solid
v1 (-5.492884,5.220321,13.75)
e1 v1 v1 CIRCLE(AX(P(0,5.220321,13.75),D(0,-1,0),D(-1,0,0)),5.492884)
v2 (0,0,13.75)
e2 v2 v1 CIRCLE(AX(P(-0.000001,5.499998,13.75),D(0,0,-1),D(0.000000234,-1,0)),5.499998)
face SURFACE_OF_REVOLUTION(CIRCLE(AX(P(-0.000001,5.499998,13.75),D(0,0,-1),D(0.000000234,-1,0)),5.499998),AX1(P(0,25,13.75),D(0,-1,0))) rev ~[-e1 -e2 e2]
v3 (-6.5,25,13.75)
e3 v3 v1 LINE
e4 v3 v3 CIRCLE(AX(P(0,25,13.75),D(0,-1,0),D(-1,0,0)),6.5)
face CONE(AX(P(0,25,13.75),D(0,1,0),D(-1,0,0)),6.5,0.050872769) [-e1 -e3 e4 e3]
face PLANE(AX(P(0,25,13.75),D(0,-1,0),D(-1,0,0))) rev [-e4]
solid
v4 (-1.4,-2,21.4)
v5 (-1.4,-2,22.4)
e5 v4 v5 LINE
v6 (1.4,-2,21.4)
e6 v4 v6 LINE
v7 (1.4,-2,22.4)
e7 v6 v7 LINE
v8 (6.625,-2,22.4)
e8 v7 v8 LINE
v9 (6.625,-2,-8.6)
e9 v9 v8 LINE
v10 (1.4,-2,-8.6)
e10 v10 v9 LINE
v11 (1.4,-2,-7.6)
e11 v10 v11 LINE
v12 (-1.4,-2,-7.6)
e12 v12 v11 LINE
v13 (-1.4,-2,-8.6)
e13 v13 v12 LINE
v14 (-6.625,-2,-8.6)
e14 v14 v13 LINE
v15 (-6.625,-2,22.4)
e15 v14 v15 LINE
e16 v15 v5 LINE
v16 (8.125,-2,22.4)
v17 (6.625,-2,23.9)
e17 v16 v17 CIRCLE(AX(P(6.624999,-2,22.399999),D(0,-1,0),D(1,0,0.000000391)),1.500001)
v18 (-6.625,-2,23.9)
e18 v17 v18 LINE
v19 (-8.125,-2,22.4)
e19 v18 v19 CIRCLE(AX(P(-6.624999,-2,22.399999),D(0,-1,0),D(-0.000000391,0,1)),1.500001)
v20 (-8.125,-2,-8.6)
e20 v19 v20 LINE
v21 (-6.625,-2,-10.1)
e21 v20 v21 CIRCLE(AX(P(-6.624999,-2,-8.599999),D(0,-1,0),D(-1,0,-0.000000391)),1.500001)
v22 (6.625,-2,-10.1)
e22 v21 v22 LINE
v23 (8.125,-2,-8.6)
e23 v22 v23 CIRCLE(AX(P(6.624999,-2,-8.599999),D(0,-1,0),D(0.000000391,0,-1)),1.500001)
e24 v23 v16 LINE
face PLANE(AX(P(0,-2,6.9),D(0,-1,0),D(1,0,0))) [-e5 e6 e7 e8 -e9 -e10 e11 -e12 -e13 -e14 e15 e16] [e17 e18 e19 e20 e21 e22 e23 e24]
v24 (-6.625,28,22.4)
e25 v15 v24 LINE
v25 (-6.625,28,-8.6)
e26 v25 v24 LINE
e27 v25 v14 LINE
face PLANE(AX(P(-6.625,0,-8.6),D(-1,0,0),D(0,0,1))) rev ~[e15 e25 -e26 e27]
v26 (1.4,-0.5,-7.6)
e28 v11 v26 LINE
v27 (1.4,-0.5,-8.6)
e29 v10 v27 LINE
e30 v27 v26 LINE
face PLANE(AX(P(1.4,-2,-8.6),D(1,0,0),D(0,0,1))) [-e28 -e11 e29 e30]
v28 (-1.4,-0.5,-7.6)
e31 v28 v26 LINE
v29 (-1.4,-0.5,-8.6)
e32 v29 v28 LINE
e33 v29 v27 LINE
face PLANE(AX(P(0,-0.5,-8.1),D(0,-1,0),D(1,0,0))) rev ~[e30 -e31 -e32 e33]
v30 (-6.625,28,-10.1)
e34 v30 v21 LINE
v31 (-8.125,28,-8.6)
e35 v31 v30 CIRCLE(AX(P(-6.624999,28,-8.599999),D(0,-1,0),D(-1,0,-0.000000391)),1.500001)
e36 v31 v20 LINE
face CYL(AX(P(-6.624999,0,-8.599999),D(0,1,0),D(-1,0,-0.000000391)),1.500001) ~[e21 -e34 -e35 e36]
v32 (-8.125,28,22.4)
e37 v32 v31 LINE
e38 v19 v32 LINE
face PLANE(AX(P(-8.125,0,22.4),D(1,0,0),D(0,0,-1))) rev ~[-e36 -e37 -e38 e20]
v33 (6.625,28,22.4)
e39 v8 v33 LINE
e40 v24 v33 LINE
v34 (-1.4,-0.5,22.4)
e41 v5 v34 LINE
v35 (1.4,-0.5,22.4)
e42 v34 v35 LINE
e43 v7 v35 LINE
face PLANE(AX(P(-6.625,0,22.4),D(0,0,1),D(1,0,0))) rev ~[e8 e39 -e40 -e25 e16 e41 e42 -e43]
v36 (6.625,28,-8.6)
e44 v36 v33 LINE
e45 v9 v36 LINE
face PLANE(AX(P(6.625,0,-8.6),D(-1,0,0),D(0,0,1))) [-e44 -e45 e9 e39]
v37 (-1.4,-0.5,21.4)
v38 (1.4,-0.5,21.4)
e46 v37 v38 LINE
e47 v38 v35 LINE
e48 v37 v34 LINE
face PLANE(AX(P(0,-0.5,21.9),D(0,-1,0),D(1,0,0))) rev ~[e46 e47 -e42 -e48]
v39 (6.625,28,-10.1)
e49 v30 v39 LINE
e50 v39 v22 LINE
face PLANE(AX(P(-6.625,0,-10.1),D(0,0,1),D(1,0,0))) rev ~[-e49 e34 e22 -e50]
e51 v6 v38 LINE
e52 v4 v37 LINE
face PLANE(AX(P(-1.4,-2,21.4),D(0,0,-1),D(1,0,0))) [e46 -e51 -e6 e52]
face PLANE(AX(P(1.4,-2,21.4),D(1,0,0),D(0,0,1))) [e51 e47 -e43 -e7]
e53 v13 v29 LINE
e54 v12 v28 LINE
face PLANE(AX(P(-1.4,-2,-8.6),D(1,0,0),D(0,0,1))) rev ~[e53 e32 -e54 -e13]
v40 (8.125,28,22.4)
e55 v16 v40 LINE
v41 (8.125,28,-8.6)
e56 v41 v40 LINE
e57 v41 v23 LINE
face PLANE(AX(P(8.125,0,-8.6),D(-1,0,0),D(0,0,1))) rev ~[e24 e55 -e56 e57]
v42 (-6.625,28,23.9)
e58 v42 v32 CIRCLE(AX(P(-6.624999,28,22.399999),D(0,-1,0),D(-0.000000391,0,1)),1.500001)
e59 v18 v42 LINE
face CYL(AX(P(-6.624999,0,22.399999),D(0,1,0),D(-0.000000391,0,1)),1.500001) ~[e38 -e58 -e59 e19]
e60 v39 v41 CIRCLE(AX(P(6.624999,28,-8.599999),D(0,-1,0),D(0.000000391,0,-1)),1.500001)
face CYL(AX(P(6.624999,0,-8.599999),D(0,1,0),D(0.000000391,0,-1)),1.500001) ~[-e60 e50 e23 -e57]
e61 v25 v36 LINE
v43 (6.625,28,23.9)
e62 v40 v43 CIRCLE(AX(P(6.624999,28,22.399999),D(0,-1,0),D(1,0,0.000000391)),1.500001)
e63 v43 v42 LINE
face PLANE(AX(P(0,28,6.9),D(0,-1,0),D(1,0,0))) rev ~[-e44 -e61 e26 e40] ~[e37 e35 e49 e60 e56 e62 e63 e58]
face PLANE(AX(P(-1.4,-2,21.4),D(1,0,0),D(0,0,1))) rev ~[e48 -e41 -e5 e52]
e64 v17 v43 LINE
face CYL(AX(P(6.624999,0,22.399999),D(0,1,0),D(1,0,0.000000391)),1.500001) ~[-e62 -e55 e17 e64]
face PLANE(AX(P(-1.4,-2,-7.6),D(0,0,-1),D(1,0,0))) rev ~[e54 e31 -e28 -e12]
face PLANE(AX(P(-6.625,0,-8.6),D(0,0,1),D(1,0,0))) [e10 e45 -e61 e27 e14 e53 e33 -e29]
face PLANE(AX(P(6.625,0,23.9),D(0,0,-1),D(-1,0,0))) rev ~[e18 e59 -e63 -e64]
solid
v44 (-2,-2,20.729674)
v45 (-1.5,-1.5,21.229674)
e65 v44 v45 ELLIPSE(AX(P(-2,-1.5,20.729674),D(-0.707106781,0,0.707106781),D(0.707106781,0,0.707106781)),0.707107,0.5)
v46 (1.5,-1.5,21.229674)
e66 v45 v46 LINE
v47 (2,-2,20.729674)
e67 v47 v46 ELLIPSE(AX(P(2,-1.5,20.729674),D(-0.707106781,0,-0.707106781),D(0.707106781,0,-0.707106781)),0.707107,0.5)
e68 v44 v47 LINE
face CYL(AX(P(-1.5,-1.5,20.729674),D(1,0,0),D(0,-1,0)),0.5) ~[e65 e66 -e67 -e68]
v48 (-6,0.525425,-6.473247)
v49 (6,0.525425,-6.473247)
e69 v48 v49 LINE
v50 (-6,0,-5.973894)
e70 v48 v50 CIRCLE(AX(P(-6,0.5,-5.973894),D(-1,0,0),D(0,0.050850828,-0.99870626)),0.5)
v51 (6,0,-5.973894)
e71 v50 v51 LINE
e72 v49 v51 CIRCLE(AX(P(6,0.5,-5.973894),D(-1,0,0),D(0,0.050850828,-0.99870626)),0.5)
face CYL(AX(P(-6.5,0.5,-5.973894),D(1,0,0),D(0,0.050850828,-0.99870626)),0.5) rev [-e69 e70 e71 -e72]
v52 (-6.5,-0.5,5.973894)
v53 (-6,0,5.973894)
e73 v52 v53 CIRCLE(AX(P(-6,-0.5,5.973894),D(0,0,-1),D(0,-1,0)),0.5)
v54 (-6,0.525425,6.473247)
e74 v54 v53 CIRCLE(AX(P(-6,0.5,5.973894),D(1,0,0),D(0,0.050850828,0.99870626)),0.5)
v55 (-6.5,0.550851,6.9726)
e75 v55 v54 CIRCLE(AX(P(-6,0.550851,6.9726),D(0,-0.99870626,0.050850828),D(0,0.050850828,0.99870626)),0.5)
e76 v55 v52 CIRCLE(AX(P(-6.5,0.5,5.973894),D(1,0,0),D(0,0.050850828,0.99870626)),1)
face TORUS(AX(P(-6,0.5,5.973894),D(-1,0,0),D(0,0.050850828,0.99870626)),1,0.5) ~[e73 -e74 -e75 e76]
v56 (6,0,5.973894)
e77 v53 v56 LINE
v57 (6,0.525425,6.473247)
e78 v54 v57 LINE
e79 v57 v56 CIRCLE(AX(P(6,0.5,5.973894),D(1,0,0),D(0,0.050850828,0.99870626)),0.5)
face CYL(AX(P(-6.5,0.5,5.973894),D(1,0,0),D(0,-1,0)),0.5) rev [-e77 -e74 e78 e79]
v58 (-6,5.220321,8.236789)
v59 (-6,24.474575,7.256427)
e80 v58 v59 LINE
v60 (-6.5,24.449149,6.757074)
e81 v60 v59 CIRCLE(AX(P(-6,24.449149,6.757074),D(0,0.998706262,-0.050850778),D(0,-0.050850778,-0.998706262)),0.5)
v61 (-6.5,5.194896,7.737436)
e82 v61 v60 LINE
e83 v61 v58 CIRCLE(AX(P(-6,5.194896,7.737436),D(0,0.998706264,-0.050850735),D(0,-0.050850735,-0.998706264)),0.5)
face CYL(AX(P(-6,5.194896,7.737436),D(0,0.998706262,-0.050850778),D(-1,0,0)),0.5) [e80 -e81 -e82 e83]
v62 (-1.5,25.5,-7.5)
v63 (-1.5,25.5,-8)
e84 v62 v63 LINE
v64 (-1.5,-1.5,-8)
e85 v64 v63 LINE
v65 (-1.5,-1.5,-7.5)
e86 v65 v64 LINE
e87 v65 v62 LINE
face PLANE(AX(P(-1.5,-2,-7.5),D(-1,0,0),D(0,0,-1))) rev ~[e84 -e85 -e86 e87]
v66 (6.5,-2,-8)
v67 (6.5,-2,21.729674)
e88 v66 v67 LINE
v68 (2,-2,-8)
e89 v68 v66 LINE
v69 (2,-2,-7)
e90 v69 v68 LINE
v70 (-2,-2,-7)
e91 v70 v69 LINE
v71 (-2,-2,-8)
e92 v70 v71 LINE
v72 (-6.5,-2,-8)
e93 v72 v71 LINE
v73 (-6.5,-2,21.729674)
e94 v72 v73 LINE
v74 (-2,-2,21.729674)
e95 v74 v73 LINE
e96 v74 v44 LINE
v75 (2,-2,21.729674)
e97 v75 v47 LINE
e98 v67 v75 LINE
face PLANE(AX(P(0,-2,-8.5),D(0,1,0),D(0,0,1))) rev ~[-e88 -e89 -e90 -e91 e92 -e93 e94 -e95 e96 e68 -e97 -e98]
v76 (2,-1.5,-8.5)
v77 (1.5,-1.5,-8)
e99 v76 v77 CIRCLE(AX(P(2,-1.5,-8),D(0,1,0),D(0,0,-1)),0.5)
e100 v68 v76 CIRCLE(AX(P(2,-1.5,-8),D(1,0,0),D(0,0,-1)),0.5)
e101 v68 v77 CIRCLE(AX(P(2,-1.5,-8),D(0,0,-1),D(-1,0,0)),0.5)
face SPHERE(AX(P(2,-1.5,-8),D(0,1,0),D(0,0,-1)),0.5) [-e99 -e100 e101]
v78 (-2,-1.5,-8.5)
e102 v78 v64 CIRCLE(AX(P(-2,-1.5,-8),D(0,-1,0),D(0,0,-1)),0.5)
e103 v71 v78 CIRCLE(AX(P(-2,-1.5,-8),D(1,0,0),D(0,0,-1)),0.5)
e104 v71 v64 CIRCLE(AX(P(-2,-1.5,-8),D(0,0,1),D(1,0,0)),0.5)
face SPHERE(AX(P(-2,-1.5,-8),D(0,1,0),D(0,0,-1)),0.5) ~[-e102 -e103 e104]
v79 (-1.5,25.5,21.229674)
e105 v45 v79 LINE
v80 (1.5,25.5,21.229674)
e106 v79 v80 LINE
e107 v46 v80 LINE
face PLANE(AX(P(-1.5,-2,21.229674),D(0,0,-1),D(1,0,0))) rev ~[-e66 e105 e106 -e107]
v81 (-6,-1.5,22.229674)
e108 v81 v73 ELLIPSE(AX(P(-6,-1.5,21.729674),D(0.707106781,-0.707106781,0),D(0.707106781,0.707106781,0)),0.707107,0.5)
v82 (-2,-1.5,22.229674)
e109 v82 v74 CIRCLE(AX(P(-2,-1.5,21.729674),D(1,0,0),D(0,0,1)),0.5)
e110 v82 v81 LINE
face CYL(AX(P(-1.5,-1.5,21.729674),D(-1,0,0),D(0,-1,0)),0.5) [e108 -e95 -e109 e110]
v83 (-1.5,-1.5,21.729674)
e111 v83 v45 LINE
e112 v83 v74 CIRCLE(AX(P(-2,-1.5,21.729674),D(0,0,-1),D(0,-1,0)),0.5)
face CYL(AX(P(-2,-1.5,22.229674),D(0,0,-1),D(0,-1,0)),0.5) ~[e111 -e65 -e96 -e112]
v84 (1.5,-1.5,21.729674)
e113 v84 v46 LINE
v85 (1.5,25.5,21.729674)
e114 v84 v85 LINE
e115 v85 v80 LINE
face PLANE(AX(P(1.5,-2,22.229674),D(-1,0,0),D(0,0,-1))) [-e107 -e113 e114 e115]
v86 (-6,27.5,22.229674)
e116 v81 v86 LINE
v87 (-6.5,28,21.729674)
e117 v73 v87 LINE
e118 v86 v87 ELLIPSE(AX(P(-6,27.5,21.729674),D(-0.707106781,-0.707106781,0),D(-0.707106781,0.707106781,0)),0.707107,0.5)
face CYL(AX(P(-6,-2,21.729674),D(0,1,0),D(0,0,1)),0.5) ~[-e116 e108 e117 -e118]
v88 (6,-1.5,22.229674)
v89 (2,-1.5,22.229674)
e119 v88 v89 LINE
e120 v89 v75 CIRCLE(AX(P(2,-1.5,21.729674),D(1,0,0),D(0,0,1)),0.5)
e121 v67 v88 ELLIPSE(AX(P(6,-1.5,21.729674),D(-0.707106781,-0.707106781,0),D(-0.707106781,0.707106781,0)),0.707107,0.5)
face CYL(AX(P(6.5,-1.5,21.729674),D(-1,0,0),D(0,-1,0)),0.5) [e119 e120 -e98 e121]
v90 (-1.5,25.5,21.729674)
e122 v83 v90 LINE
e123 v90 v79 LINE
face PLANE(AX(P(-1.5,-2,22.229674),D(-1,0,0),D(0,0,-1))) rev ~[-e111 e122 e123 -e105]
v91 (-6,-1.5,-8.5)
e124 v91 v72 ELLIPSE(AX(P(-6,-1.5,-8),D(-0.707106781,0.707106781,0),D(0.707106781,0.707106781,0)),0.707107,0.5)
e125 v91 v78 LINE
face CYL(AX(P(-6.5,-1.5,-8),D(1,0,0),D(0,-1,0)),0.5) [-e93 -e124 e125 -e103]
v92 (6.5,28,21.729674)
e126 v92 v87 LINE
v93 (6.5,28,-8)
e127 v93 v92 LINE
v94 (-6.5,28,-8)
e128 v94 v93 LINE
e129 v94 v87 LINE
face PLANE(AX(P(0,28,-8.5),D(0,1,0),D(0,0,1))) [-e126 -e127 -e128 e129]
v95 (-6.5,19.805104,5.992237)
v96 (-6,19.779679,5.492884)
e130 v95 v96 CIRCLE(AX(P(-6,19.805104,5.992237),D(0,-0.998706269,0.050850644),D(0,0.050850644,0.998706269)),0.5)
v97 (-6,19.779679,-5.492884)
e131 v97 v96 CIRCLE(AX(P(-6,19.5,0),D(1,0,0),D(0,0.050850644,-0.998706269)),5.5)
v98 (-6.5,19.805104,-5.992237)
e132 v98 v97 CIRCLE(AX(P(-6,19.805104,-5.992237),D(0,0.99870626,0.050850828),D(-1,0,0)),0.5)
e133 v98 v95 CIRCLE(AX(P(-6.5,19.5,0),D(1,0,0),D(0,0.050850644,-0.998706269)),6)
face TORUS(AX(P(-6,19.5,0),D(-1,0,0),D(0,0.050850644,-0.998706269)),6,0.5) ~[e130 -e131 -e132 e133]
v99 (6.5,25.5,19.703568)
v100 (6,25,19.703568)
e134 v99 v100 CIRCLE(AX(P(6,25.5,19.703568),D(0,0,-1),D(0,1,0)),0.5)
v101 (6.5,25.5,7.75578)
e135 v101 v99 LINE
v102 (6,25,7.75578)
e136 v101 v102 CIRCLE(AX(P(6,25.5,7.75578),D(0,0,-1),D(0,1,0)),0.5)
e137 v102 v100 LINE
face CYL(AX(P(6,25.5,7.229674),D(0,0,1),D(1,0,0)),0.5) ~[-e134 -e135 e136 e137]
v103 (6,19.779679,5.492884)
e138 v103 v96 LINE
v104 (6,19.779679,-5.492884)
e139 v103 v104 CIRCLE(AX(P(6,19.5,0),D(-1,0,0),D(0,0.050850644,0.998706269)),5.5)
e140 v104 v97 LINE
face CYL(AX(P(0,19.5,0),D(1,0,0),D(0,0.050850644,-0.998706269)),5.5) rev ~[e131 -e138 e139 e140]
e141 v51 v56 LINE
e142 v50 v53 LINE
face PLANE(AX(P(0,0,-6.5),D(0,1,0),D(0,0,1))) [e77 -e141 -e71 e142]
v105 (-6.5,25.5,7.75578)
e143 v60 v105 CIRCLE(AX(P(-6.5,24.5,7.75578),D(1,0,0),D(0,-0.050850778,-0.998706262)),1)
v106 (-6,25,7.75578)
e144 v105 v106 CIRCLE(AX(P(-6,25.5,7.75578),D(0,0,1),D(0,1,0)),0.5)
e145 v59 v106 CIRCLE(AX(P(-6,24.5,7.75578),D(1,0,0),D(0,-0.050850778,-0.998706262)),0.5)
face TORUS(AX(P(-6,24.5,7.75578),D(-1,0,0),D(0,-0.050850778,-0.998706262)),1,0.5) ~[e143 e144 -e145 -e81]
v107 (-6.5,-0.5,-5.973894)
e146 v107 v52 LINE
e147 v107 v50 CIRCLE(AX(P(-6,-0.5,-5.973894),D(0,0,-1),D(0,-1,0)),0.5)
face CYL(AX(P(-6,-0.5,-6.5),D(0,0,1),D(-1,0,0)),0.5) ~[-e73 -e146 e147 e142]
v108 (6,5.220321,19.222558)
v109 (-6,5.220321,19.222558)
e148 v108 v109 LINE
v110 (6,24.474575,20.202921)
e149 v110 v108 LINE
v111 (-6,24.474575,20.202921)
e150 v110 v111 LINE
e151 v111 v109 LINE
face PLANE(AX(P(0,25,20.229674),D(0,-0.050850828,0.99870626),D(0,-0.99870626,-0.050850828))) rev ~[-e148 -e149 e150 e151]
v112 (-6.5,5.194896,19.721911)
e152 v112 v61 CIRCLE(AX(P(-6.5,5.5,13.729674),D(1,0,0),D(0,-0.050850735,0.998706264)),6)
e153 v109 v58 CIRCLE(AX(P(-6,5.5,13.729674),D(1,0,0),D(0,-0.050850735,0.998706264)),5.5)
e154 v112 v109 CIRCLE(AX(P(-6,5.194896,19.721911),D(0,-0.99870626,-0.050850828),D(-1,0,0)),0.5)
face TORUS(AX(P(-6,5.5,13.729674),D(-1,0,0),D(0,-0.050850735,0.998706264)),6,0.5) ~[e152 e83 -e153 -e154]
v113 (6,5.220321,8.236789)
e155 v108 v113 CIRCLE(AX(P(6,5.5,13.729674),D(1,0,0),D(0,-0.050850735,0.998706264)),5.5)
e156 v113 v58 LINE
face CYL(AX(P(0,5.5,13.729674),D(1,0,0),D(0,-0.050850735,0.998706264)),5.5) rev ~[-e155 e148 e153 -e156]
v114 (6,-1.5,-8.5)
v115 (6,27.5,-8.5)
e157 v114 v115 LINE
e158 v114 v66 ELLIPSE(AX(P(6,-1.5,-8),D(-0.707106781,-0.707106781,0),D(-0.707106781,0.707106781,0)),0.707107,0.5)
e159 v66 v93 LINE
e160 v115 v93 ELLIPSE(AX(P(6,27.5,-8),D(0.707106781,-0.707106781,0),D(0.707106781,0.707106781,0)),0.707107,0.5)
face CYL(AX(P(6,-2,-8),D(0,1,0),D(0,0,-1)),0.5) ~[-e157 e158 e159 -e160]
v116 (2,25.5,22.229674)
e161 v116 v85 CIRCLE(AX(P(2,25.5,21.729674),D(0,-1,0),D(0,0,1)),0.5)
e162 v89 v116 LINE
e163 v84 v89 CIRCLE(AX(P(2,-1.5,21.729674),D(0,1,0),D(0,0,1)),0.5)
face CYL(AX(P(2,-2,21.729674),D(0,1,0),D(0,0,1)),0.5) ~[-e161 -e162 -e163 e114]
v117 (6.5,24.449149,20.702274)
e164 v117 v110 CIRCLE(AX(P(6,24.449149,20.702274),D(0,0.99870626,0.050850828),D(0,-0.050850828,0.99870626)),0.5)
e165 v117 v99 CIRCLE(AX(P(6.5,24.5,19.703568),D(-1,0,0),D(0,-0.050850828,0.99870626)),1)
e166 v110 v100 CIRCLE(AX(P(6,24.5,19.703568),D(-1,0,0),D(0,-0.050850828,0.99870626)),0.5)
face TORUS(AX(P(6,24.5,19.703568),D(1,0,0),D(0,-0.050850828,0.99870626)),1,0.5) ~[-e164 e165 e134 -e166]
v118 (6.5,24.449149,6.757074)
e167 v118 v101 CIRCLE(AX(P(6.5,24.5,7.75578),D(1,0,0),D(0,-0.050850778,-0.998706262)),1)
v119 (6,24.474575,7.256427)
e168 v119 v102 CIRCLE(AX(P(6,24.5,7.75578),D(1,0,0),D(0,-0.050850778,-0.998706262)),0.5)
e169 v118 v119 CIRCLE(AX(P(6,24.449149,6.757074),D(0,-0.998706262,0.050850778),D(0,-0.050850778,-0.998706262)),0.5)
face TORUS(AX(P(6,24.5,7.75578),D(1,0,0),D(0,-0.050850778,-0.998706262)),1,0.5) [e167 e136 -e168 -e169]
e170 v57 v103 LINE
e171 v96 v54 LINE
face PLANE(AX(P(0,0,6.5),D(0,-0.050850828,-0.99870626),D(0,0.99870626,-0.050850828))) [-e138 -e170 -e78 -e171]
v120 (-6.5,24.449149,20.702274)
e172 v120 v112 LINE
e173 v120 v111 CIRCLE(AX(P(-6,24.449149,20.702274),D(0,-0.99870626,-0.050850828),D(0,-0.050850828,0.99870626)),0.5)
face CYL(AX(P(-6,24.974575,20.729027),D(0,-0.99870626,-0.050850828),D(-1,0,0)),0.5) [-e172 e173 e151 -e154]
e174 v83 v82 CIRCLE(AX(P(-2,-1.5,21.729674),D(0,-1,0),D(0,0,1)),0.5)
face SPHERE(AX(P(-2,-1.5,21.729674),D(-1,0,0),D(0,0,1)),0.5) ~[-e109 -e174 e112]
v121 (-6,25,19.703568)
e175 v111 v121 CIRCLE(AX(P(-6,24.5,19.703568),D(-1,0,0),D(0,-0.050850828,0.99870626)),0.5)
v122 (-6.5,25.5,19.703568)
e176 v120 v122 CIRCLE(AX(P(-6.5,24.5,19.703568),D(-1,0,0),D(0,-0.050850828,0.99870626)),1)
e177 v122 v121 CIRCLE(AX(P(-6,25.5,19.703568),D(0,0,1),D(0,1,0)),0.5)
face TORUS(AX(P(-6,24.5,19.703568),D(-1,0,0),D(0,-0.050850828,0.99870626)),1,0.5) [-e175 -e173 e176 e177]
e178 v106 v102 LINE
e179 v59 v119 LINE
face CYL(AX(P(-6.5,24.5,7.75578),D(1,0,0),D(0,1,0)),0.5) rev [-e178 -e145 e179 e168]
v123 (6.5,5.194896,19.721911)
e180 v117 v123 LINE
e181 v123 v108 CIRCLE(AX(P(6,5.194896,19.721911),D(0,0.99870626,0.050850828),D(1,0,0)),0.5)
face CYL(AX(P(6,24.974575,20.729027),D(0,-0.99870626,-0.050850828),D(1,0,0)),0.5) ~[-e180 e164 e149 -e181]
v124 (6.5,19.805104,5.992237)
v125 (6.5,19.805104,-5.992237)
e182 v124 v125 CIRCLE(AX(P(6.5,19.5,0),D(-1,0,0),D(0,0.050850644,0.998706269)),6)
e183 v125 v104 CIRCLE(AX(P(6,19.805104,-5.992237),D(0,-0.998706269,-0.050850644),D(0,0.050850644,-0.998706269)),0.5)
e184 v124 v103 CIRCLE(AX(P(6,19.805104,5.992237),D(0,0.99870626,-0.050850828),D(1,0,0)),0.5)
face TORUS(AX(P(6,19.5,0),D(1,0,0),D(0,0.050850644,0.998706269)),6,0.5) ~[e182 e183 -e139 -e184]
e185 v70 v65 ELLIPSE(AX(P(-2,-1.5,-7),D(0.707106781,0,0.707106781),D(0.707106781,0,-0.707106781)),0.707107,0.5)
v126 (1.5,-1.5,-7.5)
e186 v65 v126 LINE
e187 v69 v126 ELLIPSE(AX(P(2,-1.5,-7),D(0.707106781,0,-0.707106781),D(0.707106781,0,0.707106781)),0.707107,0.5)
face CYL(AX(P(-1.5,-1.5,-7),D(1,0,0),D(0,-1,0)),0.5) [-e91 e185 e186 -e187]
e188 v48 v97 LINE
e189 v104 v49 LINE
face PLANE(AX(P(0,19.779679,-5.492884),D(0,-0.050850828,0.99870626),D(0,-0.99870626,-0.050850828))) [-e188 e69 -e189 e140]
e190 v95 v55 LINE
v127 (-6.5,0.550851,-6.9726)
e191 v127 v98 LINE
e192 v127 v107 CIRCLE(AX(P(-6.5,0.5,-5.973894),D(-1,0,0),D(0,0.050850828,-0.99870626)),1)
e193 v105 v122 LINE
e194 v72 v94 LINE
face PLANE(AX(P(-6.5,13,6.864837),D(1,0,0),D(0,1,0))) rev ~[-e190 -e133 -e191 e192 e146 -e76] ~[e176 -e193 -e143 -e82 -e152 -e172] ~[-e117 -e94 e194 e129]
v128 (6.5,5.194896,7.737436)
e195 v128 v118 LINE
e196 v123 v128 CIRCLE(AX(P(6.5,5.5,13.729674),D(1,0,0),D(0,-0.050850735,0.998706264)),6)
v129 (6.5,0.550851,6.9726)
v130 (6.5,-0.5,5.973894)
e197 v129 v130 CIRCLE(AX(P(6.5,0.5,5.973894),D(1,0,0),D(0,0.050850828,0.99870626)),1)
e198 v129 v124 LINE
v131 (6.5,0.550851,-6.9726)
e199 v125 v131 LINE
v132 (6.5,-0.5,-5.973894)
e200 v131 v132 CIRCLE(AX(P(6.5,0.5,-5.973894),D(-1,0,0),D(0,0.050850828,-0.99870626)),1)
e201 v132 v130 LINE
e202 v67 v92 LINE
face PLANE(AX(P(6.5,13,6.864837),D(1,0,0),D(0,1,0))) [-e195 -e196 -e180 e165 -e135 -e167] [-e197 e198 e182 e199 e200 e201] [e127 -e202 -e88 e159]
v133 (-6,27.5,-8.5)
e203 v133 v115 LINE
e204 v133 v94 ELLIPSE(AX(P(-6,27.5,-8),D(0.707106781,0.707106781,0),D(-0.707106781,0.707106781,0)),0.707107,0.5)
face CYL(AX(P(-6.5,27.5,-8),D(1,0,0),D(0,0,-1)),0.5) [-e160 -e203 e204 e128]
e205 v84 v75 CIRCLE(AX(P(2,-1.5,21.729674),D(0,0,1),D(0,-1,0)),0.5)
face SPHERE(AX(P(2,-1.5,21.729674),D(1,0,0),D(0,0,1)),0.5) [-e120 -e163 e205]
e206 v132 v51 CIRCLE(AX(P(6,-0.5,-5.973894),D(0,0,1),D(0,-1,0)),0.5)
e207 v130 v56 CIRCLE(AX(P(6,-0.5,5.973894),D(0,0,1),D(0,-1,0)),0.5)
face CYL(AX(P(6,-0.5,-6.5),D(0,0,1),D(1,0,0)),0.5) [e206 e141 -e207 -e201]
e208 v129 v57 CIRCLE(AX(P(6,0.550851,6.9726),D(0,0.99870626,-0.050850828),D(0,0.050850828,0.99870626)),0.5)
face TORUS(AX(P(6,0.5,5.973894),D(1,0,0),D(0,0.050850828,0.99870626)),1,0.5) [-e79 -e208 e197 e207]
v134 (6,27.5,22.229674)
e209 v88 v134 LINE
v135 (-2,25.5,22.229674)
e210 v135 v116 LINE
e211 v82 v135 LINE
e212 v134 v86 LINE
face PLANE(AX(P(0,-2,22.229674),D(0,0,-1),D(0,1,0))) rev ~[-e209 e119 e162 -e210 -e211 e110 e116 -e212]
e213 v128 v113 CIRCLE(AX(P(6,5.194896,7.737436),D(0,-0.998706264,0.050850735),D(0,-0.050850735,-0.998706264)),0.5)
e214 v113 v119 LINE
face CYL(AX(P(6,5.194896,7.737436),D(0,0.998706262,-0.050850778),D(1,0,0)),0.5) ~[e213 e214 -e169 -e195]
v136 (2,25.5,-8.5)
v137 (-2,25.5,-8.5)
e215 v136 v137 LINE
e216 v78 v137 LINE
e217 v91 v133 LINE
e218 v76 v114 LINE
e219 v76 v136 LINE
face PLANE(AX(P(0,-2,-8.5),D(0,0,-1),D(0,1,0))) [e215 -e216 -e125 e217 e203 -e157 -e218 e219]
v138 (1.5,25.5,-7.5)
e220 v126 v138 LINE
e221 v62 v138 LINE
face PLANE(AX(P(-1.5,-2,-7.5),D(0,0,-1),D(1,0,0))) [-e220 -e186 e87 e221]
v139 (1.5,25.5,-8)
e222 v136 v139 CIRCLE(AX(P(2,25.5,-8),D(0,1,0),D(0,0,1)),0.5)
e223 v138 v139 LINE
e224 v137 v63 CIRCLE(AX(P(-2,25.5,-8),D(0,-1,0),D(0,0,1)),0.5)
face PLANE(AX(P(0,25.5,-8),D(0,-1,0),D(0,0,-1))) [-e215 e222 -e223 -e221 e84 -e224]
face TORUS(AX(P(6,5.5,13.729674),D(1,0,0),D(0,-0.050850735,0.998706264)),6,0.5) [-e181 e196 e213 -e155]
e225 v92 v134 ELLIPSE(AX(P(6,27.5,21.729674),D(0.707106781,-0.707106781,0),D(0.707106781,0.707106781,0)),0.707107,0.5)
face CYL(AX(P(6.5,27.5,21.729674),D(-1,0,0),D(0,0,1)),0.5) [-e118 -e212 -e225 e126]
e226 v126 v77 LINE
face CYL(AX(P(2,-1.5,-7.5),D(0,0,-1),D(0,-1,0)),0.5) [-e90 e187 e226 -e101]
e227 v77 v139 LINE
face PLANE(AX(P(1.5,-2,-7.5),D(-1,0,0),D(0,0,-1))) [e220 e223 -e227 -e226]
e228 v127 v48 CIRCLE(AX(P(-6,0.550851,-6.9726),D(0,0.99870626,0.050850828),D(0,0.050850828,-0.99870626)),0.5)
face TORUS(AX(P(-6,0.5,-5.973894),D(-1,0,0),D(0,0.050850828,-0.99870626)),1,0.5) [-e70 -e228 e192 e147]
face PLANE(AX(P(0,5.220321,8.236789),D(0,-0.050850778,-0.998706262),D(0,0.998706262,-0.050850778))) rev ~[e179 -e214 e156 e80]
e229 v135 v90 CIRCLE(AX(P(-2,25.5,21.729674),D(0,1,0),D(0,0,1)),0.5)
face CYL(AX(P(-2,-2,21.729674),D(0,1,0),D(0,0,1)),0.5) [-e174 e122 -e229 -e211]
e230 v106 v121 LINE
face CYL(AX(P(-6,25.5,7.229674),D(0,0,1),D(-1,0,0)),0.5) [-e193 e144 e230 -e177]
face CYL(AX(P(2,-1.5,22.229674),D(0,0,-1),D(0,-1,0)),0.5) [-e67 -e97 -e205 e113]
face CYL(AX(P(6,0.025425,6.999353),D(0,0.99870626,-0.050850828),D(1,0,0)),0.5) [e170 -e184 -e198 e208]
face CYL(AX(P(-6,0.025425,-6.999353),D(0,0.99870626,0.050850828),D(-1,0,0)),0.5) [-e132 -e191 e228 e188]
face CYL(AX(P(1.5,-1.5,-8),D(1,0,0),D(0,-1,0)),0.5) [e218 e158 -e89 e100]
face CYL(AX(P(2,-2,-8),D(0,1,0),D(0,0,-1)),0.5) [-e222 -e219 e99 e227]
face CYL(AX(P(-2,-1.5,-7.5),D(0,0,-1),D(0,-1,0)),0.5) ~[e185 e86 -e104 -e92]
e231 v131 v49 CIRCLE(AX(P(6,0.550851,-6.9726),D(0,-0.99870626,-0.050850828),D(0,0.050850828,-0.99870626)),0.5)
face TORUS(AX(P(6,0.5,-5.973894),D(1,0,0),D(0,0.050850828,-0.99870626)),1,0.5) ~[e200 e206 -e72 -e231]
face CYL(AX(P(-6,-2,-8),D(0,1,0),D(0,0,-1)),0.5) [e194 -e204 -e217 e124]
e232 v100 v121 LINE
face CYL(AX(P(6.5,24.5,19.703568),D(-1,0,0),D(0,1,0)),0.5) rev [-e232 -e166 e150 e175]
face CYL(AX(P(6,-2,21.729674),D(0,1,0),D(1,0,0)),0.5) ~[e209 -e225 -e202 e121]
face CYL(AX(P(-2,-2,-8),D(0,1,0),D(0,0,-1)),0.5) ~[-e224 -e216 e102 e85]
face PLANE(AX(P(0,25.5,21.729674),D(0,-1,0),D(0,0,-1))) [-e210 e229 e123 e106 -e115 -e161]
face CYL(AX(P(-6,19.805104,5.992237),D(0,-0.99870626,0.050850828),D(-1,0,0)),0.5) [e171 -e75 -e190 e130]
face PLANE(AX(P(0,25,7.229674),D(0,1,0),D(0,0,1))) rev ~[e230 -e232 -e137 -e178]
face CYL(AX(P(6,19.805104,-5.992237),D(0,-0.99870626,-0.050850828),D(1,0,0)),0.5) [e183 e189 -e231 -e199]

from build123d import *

# Parameters (mm, degrees)
SKETCH001_W             = 30
SKETCH001_H             = 30.729674
PAD_DEPTH               = 6.5
SKETCH002_W             = 1
SKETCH002_H             = 3
POCKET_DEPTH            = 27.5
FILLET_R                = 0.5
BODY002_PLACEMENT_ANGLE = 180
SKETCH003_W             = 13.25
SKETCH003_H             = 31
PAD001_DEPTH            = 28
PAD001_DEPTH_BACK       = 2
SKETCH004_W             = 2.8
SKETCH004_H             = 1
PAD002_DEPTH            = 1.5


with BuildPart() as innerbody:
    # Sketch001 → Pad (new body, symmetric)
    with BuildSketch(Plane.YZ):
        with Locations((13, 6.864837)):
            Rectangle(SKETCH001_W, SKETCH001_H)
        with BuildLine():
            Line((0, -6.5), (0, 6.5))
            Line((0, 6.5), (19.779679, 5.492884))
            ThreePointArc((19.779679, -5.492884), (25, 0), (19.779679, 5.492884))
            Line((19.779679, -5.492884), (0, -6.5))
        make_face(mode=Mode.SUBTRACT)
        with BuildLine():
            Line((25, 7.229674), (25, 20.229674))
            Line((25, 20.229674), (5.220321, 19.222558))
            ThreePointArc((5.220321, 19.222558), (0, 13.729674), (5.220321, 8.236789))
            Line((5.220321, 8.236789), (25, 7.229674))
        make_face(mode=Mode.SUBTRACT)
    extrude(amount=PAD_DEPTH, both=True)

    # Sketch002 (on Face1 of Pad) → Pocket (cut)
    with BuildSketch(Plane(origin=(0, -2, 0), x_dir=(0, 0, -1), z_dir=(0, -1, 0))):
        with Locations((-21.729674, 0)):
            Rectangle(SKETCH002_W, SKETCH002_H)
        with Locations((8, 0)):
            Rectangle(SKETCH002_W, SKETCH002_H)
    extrude(amount=-POCKET_DEPTH, mode=Mode.SUBTRACT)

    # Fillet
    fillet_edges = [innerbody.edges().sort_by_distance(p)[0] for p in [
        (-6.5, 25, 0),
        (-6.5, 0, 0),
        (-6.5, 15.11016, 7.733232),
        (-6.5, 25, 13.729674),
        (-6.5, 13, -8.5),
        (-6.5, 13, 22.229674),
        (6.5, 13, -8.5),
        (1.5, 11.75, -8.5),
        (-1.5, 11.75, -8.5),
        (-4, -2, -8.5),
        (4, -2, -8.5),
        (0, 28, -8.5),
        (-4, -2, 22.229674),
        (4, -2, 22.229674),
        (6.5, 13, 22.229674),
        (1.5, 11.75, 22.229674),
        (-1.5, 11.75, 22.229674),
        (0, 28, 22.229674),
        (0, -2, -7.5),
        (0, -2, 21.229674),
        (-1.5, -2, -8),
        (1.5, -2, -8),
        (1.5, -2, 21.729674),
        (-1.5, -2, 21.729674),
        (6.5, 9.88984, 5.996442),
        (6.5, 0, 0),
        (6.5, 15.11016, 19.726116),
        (6.5, 25, 13.729674),
        (0, 0, 6.5),
        (0, 0, -6.5),
        (0, 25, 20.229674),
        (0, 25, 7.229674),
    ]]
    fillet(fillet_edges, radius=FILLET_R)


with BuildPart() as body002:
    # Sketch → Revolution (revolve)
    with BuildSketch(Plane.XY):
        with BuildLine():
            Line((0, 0), (-6.5, 0))
            Line((-6.5, 0), (-5.492884, 19.779679))
            ThreePointArc((0, 25), (-3.788916, 23.486743), (-5.492884, 19.779679))
            Line((0, 25), (0, 0))
        make_face()
    revolve(axis=Axis((0, 0, 0), (0, 1, 0)))


with BuildPart() as body002_1:
    # Body002 placement: moved
    add(body002.part.moved(Location((0, 25, 13.75))).rotate(Axis((0, 25, 13.75), (1, 0, 0)), BODY002_PLACEMENT_ANGLE))


with BuildPart() as outerbody:
    # Sketch003 → Pad001 (new body, two sides)
    with BuildSketch(Plane.XZ) as pad001_sk:
        with BuildLine():
            Line((-8.125, 22.4), (-8.125, -8.6))
            ThreePointArc((-8.125, -8.6), (-7.68566, -9.66066), (-6.625, -10.1))
            Line((-6.625, -10.1), (6.625, -10.1))
            ThreePointArc((6.625, -10.1), (7.68566, -9.66066), (8.125, -8.6))
            Line((8.125, -8.6), (8.125, 22.4))
            ThreePointArc((8.125, 22.4), (7.68566, 23.46066), (6.625, 23.9))
            Line((6.625, 23.9), (-6.625, 23.9))
            ThreePointArc((-6.625, 23.9), (-7.68566, 23.46066), (-8.125, 22.4))
        make_face()
        with Locations((0, 6.9)):
            Rectangle(SKETCH003_W, SKETCH003_H, mode=Mode.SUBTRACT)
    extrude(amount=-PAD001_DEPTH)
    extrude(pad001_sk.sketch, amount=PAD001_DEPTH_BACK)

    # Sketch004 (on Face14 of Pad001) → Pad002 (join)
    with BuildSketch(Plane.XZ.offset(2)):
        with Locations((0, 21.9)):
            Rectangle(SKETCH004_W, SKETCH004_H)
        with Locations((0, -8.1)):
            Rectangle(SKETCH004_W, SKETCH004_H)
    extrude(amount=-PAD002_DEPTH)


solid = Compound([innerbody.part, body002_1.part, outerbody.part])
